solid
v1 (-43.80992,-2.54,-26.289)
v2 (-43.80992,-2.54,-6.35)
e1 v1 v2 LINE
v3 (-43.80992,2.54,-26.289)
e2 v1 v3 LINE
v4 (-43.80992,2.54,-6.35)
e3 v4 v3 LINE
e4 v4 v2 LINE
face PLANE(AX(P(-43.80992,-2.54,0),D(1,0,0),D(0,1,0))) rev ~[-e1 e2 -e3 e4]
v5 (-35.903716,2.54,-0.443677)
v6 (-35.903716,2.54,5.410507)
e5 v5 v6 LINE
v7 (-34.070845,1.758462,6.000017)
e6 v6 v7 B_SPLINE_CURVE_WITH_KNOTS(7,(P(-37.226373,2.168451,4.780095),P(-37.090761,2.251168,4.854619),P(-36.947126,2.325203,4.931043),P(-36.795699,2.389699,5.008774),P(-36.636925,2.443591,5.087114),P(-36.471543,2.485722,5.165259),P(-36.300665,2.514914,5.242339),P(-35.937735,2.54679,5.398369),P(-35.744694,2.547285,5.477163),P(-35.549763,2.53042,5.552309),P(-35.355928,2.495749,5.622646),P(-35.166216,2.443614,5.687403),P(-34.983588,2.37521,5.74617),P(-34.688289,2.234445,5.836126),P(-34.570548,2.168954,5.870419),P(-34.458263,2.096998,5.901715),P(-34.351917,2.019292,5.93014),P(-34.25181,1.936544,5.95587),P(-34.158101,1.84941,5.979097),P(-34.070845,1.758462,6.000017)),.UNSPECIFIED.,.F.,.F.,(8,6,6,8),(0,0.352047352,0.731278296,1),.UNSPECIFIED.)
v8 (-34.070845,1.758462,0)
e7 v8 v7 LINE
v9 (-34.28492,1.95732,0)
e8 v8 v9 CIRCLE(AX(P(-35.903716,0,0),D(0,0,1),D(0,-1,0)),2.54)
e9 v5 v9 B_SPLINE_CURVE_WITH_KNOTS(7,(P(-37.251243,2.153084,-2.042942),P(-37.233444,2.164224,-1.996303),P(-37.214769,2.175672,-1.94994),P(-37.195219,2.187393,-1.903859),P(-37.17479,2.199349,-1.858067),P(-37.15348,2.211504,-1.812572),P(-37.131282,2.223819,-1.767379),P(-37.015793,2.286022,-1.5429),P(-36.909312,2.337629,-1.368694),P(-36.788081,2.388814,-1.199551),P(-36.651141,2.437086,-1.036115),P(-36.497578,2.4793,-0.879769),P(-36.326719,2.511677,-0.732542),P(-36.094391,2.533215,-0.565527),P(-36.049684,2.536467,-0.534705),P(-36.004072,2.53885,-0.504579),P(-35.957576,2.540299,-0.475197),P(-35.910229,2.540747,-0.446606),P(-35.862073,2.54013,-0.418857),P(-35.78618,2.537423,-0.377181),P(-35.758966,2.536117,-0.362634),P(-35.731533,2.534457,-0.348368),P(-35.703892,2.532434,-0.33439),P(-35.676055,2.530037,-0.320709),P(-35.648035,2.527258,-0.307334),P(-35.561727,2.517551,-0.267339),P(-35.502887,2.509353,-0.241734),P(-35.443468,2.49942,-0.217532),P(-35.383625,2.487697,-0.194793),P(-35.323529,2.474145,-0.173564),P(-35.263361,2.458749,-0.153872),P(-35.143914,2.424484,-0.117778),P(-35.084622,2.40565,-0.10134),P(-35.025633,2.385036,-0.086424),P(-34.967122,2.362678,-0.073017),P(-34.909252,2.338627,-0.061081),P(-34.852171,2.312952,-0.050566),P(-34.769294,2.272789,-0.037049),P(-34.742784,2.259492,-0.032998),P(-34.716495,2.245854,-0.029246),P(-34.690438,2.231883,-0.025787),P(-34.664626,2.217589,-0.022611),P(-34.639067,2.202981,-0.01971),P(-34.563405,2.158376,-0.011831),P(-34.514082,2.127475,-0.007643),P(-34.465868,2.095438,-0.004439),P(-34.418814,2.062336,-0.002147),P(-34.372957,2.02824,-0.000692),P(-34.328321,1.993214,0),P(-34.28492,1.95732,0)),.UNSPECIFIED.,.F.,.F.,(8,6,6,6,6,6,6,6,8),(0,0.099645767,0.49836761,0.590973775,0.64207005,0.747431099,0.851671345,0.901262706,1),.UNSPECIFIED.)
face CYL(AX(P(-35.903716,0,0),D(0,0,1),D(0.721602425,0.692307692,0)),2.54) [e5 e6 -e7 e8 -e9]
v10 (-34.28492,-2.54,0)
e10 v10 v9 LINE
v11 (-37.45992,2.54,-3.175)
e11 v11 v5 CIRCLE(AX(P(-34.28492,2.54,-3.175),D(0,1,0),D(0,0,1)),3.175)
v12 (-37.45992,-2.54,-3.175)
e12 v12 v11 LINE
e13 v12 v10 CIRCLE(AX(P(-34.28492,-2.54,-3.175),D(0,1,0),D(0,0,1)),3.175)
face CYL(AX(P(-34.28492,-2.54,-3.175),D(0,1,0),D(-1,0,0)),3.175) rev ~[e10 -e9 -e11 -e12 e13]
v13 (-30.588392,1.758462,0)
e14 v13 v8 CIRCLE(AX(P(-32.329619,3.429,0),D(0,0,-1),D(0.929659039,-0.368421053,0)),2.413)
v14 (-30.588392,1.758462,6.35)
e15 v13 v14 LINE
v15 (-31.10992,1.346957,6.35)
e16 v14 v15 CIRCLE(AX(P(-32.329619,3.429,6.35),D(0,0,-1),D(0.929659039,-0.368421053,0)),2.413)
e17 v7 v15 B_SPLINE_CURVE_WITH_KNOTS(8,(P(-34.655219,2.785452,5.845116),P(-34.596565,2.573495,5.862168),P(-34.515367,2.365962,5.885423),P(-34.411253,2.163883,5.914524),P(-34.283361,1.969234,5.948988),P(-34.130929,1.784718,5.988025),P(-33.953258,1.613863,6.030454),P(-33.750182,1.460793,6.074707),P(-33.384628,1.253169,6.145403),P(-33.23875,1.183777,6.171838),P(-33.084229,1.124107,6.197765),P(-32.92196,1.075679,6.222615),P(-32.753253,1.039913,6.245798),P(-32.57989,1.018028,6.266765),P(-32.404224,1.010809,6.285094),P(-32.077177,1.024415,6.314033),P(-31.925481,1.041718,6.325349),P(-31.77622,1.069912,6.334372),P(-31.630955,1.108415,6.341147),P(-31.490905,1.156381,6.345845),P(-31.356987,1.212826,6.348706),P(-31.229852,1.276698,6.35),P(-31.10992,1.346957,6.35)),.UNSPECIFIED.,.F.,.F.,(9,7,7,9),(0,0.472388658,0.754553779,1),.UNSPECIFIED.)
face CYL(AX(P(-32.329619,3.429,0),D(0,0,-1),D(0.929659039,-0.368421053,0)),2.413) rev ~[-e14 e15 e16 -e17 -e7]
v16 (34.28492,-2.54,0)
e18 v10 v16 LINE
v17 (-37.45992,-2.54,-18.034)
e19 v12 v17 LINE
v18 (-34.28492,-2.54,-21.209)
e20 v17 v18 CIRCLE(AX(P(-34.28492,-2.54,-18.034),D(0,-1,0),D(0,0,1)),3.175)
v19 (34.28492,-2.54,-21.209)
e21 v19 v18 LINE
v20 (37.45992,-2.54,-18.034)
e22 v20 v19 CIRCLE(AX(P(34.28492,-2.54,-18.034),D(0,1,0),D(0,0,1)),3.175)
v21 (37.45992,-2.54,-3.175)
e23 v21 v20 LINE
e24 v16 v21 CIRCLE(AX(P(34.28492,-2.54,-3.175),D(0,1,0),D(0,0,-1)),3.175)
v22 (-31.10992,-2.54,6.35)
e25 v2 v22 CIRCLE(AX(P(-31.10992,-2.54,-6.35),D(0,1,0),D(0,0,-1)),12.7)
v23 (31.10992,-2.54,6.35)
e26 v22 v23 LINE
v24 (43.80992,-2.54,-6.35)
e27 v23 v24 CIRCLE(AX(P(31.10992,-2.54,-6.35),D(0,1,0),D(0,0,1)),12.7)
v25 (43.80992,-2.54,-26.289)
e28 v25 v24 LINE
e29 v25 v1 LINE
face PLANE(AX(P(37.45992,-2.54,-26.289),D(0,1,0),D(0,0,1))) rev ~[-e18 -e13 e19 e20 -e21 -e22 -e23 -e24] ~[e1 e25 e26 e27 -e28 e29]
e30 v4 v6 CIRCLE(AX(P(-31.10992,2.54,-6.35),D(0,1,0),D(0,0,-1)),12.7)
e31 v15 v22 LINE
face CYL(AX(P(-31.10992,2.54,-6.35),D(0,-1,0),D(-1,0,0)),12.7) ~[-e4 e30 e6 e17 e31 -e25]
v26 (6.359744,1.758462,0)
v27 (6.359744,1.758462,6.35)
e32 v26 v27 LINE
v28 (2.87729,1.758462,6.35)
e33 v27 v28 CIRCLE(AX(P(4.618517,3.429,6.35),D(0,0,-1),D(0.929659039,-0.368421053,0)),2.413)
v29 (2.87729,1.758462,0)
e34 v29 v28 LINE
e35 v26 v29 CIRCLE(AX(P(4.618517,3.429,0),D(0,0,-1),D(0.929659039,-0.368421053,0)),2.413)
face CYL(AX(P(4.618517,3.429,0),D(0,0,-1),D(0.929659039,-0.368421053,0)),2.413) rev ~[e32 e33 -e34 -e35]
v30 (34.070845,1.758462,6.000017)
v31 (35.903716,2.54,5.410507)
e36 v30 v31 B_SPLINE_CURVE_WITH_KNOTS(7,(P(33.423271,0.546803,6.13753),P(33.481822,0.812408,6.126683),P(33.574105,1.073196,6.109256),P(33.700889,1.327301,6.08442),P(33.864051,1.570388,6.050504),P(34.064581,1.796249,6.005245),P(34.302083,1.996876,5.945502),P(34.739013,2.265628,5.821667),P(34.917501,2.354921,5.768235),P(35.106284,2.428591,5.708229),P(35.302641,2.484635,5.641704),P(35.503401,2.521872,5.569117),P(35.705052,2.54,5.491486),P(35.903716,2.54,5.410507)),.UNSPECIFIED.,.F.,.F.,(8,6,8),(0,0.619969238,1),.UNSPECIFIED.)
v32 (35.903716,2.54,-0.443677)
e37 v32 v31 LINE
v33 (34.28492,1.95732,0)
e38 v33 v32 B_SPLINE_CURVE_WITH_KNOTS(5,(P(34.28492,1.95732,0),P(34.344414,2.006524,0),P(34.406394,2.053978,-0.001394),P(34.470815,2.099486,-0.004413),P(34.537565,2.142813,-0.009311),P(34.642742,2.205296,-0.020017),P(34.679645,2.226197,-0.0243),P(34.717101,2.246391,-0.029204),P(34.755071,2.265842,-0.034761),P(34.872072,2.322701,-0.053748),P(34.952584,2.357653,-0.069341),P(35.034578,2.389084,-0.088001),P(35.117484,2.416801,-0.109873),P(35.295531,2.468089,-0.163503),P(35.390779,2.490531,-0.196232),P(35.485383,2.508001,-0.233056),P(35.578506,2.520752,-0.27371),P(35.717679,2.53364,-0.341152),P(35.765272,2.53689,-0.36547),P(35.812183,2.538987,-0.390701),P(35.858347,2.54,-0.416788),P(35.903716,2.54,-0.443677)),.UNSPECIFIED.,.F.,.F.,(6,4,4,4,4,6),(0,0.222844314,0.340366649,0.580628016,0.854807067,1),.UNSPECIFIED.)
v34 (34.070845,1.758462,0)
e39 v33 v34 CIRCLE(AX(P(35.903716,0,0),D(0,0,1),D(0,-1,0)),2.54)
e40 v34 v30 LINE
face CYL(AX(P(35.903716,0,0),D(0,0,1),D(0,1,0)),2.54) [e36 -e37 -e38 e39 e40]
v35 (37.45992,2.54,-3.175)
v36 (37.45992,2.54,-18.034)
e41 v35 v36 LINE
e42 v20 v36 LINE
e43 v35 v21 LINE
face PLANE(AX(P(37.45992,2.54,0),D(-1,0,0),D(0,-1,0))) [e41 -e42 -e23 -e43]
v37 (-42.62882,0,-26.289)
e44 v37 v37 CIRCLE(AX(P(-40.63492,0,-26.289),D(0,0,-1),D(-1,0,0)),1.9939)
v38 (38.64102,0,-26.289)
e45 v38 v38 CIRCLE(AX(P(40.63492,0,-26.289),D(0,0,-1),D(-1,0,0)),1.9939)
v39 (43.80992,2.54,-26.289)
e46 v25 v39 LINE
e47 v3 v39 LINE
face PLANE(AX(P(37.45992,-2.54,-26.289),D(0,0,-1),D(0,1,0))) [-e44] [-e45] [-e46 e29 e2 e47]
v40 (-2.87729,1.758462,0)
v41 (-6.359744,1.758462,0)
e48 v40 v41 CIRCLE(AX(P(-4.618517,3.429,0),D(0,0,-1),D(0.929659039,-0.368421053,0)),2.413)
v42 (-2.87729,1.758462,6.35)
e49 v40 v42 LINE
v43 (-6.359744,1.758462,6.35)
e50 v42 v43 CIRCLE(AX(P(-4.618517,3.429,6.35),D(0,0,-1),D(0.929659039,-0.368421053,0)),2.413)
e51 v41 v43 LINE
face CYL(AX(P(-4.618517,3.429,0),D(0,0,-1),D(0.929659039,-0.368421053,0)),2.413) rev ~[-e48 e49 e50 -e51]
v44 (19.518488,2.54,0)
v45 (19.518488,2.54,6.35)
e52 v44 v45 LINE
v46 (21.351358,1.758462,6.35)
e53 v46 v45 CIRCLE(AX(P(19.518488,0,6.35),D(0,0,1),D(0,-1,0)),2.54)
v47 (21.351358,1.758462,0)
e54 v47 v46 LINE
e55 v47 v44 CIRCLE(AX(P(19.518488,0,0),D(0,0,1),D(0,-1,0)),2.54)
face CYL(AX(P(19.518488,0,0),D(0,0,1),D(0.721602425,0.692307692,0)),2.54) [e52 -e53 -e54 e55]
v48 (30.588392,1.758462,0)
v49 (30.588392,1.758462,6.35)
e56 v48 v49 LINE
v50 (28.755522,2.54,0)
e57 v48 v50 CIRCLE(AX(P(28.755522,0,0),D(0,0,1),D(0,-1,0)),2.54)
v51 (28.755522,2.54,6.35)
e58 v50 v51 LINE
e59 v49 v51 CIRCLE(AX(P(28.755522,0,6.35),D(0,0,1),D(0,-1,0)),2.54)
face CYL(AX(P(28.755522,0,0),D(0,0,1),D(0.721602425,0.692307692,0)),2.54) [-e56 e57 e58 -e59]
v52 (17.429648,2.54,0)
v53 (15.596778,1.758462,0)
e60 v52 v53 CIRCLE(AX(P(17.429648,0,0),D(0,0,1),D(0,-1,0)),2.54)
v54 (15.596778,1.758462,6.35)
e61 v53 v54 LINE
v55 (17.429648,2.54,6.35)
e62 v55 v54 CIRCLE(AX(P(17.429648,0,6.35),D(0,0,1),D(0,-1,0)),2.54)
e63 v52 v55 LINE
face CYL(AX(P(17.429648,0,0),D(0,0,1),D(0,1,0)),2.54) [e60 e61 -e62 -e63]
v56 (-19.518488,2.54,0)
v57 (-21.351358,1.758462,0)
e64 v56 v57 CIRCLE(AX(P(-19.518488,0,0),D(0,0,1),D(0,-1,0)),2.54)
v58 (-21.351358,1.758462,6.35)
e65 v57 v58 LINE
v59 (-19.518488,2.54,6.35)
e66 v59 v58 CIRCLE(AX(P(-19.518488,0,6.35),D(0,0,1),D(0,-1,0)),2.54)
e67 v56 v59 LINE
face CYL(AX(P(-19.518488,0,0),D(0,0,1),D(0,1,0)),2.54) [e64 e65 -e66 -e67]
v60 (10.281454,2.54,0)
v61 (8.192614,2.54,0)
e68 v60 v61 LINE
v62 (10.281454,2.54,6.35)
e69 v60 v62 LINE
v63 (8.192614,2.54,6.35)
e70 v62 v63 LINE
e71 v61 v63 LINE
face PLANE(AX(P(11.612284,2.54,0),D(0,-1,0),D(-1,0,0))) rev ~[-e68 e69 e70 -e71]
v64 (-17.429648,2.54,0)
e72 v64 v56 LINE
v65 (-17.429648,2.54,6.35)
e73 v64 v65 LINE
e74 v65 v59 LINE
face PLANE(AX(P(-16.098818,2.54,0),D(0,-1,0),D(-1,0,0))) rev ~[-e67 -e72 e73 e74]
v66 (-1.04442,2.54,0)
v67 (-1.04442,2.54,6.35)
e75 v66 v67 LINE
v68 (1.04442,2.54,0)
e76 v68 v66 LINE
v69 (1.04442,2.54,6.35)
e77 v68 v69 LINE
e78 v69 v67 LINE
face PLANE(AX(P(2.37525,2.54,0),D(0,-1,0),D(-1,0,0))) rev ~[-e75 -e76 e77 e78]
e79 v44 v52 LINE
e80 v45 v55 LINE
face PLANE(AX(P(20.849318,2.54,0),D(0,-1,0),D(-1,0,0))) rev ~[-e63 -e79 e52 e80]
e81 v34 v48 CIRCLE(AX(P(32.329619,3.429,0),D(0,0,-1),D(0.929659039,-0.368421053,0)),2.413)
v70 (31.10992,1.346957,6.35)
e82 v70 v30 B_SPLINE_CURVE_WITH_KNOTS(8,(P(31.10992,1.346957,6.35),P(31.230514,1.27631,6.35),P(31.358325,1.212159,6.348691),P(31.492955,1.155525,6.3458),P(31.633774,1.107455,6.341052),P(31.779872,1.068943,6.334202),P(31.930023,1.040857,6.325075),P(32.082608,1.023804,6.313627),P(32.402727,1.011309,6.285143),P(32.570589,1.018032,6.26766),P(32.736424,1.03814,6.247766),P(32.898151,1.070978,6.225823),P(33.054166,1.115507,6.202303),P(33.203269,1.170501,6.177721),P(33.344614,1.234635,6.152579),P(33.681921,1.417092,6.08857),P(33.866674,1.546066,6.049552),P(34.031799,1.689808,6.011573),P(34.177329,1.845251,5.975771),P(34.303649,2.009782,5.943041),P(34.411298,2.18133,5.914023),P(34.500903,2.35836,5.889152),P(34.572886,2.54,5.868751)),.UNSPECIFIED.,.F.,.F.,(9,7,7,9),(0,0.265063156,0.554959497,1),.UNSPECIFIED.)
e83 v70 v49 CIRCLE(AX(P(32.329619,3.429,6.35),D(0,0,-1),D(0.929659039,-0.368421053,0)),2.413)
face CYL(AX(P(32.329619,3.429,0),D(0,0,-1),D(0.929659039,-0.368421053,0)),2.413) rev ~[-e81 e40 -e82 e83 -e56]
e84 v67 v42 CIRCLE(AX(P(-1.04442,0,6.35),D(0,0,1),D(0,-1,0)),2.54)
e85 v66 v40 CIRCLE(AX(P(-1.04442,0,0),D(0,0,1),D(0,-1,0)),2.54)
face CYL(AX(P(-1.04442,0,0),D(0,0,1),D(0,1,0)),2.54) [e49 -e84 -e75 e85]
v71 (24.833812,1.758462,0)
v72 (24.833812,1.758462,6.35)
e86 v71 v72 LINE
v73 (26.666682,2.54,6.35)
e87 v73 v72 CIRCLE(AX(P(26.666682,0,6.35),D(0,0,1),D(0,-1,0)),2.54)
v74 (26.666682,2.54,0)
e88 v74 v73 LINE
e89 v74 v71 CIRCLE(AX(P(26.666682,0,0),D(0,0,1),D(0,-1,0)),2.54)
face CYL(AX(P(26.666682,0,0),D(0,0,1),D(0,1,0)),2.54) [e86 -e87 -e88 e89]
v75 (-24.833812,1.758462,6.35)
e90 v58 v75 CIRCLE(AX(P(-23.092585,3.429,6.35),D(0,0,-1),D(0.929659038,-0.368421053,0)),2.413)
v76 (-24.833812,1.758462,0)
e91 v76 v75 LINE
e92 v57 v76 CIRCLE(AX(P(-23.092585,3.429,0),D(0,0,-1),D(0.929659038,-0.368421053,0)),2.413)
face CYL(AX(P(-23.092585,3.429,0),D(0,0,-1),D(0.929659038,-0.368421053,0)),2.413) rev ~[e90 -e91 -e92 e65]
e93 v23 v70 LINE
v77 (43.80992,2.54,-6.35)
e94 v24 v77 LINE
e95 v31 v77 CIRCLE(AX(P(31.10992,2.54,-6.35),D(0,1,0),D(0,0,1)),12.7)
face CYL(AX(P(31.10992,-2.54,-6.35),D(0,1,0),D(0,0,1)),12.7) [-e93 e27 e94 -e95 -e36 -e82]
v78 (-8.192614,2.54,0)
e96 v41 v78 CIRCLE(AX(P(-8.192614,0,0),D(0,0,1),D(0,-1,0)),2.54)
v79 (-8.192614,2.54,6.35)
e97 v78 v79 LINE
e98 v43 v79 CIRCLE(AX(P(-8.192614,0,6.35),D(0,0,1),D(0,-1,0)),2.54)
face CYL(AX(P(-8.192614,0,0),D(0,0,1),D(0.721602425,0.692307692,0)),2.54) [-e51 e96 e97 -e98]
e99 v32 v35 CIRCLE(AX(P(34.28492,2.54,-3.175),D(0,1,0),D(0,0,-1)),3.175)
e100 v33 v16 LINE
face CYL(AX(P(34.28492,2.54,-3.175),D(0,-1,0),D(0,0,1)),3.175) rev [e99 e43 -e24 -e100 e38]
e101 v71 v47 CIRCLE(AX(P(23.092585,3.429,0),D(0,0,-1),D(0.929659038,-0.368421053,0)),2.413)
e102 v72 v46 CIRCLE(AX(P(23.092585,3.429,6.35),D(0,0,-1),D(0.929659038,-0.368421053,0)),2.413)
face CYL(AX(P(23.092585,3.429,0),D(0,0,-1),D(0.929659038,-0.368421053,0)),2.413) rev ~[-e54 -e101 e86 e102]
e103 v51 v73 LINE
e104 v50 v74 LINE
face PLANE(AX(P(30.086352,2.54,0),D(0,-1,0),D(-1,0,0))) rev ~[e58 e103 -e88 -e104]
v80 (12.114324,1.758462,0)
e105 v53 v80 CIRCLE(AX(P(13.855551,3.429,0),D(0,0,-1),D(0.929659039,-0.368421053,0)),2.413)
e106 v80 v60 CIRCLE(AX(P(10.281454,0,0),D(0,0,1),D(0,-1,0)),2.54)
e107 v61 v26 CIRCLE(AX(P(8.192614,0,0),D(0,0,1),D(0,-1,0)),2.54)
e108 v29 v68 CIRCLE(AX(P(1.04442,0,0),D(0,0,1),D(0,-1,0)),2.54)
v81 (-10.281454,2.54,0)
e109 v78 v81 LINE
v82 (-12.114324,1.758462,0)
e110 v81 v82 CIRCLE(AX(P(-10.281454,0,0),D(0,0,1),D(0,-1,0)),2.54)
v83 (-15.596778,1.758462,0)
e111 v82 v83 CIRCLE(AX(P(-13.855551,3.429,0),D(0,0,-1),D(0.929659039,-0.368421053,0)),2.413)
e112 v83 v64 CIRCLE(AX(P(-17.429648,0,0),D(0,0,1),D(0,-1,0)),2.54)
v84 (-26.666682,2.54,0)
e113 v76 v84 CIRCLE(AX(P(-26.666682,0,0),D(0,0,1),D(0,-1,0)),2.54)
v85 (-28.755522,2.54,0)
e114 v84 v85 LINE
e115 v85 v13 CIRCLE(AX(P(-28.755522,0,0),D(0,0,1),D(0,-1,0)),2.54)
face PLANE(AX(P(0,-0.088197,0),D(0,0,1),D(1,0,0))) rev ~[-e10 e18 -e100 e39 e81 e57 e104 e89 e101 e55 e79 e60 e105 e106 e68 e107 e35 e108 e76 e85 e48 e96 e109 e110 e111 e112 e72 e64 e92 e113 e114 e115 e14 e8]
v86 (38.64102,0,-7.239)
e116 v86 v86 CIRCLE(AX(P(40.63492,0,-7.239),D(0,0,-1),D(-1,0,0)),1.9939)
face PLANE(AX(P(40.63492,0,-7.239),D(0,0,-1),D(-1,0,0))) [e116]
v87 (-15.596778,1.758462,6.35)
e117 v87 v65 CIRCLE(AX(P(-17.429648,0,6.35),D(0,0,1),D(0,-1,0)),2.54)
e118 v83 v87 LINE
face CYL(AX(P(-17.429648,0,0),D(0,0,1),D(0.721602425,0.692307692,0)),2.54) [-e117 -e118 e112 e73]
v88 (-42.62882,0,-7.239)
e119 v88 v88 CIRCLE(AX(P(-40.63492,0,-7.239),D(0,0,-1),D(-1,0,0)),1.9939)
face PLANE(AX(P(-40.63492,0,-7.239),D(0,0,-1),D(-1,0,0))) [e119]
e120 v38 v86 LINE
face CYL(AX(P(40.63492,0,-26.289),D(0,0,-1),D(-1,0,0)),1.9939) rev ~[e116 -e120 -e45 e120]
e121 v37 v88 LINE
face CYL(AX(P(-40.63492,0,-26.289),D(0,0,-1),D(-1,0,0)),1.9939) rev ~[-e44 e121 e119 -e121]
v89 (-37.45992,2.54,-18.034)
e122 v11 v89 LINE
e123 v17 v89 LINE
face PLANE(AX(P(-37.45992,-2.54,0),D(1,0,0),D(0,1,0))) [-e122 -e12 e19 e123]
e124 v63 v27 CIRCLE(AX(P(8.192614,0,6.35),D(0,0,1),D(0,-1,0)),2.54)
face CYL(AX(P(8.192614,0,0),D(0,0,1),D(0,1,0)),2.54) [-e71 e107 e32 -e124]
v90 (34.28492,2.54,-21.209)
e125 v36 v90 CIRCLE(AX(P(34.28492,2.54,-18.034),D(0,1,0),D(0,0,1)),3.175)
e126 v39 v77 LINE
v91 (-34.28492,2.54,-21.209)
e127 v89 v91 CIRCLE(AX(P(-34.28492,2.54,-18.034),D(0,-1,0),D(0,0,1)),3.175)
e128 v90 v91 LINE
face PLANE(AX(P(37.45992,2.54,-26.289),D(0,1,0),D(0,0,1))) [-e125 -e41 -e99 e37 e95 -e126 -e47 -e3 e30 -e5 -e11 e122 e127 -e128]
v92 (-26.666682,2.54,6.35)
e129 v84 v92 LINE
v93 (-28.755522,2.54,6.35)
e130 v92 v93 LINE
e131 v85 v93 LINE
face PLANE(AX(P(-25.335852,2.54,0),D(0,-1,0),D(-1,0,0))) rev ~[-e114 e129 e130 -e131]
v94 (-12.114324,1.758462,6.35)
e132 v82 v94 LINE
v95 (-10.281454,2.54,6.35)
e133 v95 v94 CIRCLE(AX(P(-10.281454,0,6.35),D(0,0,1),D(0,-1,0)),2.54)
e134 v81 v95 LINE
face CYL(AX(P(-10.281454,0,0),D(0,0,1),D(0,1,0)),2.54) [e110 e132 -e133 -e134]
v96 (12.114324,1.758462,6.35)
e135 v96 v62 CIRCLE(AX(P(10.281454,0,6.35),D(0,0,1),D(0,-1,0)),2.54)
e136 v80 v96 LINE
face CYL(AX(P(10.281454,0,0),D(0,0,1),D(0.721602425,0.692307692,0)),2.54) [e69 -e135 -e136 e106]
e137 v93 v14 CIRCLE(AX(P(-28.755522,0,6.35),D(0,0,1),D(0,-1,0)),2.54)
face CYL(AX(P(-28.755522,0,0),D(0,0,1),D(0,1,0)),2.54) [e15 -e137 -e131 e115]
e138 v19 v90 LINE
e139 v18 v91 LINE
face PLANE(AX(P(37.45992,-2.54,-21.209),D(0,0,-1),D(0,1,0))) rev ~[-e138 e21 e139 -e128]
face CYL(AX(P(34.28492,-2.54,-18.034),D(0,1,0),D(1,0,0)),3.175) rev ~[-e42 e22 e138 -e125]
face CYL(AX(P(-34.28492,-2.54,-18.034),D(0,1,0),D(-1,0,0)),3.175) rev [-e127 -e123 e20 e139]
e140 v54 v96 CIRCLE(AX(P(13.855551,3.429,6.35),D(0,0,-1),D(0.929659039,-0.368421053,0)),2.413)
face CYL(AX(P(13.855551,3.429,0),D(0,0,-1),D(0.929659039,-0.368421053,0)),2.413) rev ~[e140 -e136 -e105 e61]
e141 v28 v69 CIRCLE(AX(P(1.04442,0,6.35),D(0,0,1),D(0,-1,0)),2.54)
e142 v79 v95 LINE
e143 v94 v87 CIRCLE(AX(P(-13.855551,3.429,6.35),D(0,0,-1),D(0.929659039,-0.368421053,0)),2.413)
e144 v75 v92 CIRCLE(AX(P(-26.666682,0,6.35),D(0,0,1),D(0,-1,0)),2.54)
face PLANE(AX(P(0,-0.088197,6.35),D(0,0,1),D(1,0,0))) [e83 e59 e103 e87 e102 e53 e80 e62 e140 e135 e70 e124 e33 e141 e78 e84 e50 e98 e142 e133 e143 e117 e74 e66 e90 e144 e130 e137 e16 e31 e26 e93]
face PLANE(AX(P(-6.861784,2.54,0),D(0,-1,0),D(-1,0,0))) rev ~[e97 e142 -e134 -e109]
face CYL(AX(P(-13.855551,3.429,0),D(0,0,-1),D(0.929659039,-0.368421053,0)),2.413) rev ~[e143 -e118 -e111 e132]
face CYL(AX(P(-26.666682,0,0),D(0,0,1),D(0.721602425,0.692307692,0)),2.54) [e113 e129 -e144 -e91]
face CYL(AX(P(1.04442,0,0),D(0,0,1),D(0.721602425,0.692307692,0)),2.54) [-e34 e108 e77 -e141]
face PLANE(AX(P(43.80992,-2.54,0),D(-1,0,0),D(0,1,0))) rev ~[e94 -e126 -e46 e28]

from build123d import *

# Parameters (mm, degrees)
BOSS_EXTRUDE1_DEPTH = 6.35
FILLET1_R           = 2.54
SKETCH1_3_W         = 6.35
SKETCH1_3_H         = 5.08
BOSS_EXTRUDE2_DEPTH = 26.289
SKETCH2_R           = 1.9939
CUT_EXTRUDE1_DEPTH  = 19.05
SKETCH3_W           = 5.08
SKETCH3_H           = 5.08
BOSS_EXTRUDE3_DEPTH = 74.91984
FILLET2_R           = 3.175
FILLET3_R           = 12.7


with BuildPart() as part:
    # Sketch1 → Boss-Extrude1 (new body)
    with BuildSketch(Plane.XY):
        with BuildLine():
            Line((-43.80992, 2.54), (-43.80992, -2.54))
            Line((-43.80992, -2.54), (43.80992, -2.54))
            Line((43.80992, -2.54), (43.80992, 2.54))
            Line((43.80992, 2.54), (34.572886058, 2.54))
            ThreePointArc((34.572886058, 2.54), (32.329618798, 1.016), (30.086351538, 2.54))
            Line((30.086351538, 2.54), (25.335852116, 2.54))
            ThreePointArc((25.335852116, 2.54), (23.092584856, 1.016), (20.849317595, 2.54))
            Line((20.849317595, 2.54), (16.098818173, 2.54))
            ThreePointArc((16.098818173, 2.54), (13.855550913, 1.016), (11.612283653, 2.54))
            Line((11.612283653, 2.54), (6.861784231, 2.54))
            ThreePointArc((6.861784231, 2.54), (4.618516971, 1.016), (2.375249711, 2.54))
            Line((2.375249711, 2.54), (-2.375249711, 2.54))
            ThreePointArc((-2.375249711, 2.54), (-4.618516971, 1.016), (-6.861784231, 2.54))
            Line((-6.861784231, 2.54), (-11.612283653, 2.54))
            ThreePointArc((-11.612283653, 2.54), (-13.855550913, 1.016), (-16.098818173, 2.54))
            Line((-16.098818173, 2.54), (-20.849317595, 2.54))
            ThreePointArc((-20.849317595, 2.54), (-23.092584856, 1.016), (-25.335852116, 2.54))
            Line((-25.335852116, 2.54), (-30.086351538, 2.54))
            ThreePointArc((-30.086351538, 2.54), (-32.329618798, 1.016), (-34.572886058, 2.54))
            Line((-34.572886058, 2.54), (-43.80992, 2.54))
        make_face()
    extrude(amount=BOSS_EXTRUDE1_DEPTH)

    # Fillet1
    fillet1_edges = [part.edges().sort_by_distance(p)[0] for p in [
        (-34.572886058, 2.54, 3.175),
        (-30.086351538, 2.54, 3.175),
        (-25.335852116, 2.54, 3.175),
        (-20.849317595, 2.54, 3.175),
        (-16.098818173, 2.54, 3.175),
        (-11.612283653, 2.54, 3.175),
        (-6.861784231, 2.54, 3.175),
        (-2.375249711, 2.54, 3.175),
        (2.375249711, 2.54, 3.175),
        (6.861784231, 2.54, 3.175),
        (11.612283653, 2.54, 3.175),
        (16.098818173, 2.54, 3.175),
        (20.849317595, 2.54, 3.175),
        (25.335852116, 2.54, 3.175),
        (30.086351538, 2.54, 3.175),
        (34.572886058, 2.54, 3.175),
    ]]
    fillet(fillet1_edges, radius=FILLET1_R)

    # Sketch1<3> → Boss-Extrude2 (add)
    with BuildSketch(Plane.XY):
        with Locations((-40.63492, 0)):
            Rectangle(SKETCH1_3_W, SKETCH1_3_H)
        Polygon((37.45992, 0), (37.45992, -2.54), (43.80992, -2.54), (43.80992, 2.54), (37.45992, 2.54), align=None)
    extrude(amount=-BOSS_EXTRUDE2_DEPTH)

    # Sketch2 → Cut-Extrude1 (cut)
    with BuildSketch(Plane(origin=(0, 0, -26.289), x_dir=(-1, 0, 0), z_dir=(0, 0, -1))):
        with Locations((-40.63492, 0)):
            Circle(SKETCH2_R)
        with Locations((40.63492, 0)):
            Circle(SKETCH2_R)
    extrude(amount=-CUT_EXTRUDE1_DEPTH, mode=Mode.SUBTRACT)

    # Sketch3 → Boss-Extrude3 (add)
    with BuildSketch(Plane.ZY.offset(-37.45992)):
        with Locations((-23.749, 0)):
            Rectangle(SKETCH3_W, SKETCH3_H)
    extrude(amount=BOSS_EXTRUDE3_DEPTH)

    # Fillet2
    fillet2_edges = [part.edges().sort_by_distance(p)[0] for p in [
        (37.45992, 0, -21.209),
        (-37.45992, 0, -21.209),
        (-37.45992, 0, 0),
        (37.45992, 0, 0),
    ]]
    fillet(fillet2_edges, radius=FILLET2_R)

    # Fillet3
    fillet3_edges = [part.edges().sort_by_distance(p)[0] for p in [
        (-43.80992, 0, 6.35),
        (43.80992, 0, 6.35),
    ]]
    fillet(fillet3_edges, radius=FILLET3_R)


solid = part.part
